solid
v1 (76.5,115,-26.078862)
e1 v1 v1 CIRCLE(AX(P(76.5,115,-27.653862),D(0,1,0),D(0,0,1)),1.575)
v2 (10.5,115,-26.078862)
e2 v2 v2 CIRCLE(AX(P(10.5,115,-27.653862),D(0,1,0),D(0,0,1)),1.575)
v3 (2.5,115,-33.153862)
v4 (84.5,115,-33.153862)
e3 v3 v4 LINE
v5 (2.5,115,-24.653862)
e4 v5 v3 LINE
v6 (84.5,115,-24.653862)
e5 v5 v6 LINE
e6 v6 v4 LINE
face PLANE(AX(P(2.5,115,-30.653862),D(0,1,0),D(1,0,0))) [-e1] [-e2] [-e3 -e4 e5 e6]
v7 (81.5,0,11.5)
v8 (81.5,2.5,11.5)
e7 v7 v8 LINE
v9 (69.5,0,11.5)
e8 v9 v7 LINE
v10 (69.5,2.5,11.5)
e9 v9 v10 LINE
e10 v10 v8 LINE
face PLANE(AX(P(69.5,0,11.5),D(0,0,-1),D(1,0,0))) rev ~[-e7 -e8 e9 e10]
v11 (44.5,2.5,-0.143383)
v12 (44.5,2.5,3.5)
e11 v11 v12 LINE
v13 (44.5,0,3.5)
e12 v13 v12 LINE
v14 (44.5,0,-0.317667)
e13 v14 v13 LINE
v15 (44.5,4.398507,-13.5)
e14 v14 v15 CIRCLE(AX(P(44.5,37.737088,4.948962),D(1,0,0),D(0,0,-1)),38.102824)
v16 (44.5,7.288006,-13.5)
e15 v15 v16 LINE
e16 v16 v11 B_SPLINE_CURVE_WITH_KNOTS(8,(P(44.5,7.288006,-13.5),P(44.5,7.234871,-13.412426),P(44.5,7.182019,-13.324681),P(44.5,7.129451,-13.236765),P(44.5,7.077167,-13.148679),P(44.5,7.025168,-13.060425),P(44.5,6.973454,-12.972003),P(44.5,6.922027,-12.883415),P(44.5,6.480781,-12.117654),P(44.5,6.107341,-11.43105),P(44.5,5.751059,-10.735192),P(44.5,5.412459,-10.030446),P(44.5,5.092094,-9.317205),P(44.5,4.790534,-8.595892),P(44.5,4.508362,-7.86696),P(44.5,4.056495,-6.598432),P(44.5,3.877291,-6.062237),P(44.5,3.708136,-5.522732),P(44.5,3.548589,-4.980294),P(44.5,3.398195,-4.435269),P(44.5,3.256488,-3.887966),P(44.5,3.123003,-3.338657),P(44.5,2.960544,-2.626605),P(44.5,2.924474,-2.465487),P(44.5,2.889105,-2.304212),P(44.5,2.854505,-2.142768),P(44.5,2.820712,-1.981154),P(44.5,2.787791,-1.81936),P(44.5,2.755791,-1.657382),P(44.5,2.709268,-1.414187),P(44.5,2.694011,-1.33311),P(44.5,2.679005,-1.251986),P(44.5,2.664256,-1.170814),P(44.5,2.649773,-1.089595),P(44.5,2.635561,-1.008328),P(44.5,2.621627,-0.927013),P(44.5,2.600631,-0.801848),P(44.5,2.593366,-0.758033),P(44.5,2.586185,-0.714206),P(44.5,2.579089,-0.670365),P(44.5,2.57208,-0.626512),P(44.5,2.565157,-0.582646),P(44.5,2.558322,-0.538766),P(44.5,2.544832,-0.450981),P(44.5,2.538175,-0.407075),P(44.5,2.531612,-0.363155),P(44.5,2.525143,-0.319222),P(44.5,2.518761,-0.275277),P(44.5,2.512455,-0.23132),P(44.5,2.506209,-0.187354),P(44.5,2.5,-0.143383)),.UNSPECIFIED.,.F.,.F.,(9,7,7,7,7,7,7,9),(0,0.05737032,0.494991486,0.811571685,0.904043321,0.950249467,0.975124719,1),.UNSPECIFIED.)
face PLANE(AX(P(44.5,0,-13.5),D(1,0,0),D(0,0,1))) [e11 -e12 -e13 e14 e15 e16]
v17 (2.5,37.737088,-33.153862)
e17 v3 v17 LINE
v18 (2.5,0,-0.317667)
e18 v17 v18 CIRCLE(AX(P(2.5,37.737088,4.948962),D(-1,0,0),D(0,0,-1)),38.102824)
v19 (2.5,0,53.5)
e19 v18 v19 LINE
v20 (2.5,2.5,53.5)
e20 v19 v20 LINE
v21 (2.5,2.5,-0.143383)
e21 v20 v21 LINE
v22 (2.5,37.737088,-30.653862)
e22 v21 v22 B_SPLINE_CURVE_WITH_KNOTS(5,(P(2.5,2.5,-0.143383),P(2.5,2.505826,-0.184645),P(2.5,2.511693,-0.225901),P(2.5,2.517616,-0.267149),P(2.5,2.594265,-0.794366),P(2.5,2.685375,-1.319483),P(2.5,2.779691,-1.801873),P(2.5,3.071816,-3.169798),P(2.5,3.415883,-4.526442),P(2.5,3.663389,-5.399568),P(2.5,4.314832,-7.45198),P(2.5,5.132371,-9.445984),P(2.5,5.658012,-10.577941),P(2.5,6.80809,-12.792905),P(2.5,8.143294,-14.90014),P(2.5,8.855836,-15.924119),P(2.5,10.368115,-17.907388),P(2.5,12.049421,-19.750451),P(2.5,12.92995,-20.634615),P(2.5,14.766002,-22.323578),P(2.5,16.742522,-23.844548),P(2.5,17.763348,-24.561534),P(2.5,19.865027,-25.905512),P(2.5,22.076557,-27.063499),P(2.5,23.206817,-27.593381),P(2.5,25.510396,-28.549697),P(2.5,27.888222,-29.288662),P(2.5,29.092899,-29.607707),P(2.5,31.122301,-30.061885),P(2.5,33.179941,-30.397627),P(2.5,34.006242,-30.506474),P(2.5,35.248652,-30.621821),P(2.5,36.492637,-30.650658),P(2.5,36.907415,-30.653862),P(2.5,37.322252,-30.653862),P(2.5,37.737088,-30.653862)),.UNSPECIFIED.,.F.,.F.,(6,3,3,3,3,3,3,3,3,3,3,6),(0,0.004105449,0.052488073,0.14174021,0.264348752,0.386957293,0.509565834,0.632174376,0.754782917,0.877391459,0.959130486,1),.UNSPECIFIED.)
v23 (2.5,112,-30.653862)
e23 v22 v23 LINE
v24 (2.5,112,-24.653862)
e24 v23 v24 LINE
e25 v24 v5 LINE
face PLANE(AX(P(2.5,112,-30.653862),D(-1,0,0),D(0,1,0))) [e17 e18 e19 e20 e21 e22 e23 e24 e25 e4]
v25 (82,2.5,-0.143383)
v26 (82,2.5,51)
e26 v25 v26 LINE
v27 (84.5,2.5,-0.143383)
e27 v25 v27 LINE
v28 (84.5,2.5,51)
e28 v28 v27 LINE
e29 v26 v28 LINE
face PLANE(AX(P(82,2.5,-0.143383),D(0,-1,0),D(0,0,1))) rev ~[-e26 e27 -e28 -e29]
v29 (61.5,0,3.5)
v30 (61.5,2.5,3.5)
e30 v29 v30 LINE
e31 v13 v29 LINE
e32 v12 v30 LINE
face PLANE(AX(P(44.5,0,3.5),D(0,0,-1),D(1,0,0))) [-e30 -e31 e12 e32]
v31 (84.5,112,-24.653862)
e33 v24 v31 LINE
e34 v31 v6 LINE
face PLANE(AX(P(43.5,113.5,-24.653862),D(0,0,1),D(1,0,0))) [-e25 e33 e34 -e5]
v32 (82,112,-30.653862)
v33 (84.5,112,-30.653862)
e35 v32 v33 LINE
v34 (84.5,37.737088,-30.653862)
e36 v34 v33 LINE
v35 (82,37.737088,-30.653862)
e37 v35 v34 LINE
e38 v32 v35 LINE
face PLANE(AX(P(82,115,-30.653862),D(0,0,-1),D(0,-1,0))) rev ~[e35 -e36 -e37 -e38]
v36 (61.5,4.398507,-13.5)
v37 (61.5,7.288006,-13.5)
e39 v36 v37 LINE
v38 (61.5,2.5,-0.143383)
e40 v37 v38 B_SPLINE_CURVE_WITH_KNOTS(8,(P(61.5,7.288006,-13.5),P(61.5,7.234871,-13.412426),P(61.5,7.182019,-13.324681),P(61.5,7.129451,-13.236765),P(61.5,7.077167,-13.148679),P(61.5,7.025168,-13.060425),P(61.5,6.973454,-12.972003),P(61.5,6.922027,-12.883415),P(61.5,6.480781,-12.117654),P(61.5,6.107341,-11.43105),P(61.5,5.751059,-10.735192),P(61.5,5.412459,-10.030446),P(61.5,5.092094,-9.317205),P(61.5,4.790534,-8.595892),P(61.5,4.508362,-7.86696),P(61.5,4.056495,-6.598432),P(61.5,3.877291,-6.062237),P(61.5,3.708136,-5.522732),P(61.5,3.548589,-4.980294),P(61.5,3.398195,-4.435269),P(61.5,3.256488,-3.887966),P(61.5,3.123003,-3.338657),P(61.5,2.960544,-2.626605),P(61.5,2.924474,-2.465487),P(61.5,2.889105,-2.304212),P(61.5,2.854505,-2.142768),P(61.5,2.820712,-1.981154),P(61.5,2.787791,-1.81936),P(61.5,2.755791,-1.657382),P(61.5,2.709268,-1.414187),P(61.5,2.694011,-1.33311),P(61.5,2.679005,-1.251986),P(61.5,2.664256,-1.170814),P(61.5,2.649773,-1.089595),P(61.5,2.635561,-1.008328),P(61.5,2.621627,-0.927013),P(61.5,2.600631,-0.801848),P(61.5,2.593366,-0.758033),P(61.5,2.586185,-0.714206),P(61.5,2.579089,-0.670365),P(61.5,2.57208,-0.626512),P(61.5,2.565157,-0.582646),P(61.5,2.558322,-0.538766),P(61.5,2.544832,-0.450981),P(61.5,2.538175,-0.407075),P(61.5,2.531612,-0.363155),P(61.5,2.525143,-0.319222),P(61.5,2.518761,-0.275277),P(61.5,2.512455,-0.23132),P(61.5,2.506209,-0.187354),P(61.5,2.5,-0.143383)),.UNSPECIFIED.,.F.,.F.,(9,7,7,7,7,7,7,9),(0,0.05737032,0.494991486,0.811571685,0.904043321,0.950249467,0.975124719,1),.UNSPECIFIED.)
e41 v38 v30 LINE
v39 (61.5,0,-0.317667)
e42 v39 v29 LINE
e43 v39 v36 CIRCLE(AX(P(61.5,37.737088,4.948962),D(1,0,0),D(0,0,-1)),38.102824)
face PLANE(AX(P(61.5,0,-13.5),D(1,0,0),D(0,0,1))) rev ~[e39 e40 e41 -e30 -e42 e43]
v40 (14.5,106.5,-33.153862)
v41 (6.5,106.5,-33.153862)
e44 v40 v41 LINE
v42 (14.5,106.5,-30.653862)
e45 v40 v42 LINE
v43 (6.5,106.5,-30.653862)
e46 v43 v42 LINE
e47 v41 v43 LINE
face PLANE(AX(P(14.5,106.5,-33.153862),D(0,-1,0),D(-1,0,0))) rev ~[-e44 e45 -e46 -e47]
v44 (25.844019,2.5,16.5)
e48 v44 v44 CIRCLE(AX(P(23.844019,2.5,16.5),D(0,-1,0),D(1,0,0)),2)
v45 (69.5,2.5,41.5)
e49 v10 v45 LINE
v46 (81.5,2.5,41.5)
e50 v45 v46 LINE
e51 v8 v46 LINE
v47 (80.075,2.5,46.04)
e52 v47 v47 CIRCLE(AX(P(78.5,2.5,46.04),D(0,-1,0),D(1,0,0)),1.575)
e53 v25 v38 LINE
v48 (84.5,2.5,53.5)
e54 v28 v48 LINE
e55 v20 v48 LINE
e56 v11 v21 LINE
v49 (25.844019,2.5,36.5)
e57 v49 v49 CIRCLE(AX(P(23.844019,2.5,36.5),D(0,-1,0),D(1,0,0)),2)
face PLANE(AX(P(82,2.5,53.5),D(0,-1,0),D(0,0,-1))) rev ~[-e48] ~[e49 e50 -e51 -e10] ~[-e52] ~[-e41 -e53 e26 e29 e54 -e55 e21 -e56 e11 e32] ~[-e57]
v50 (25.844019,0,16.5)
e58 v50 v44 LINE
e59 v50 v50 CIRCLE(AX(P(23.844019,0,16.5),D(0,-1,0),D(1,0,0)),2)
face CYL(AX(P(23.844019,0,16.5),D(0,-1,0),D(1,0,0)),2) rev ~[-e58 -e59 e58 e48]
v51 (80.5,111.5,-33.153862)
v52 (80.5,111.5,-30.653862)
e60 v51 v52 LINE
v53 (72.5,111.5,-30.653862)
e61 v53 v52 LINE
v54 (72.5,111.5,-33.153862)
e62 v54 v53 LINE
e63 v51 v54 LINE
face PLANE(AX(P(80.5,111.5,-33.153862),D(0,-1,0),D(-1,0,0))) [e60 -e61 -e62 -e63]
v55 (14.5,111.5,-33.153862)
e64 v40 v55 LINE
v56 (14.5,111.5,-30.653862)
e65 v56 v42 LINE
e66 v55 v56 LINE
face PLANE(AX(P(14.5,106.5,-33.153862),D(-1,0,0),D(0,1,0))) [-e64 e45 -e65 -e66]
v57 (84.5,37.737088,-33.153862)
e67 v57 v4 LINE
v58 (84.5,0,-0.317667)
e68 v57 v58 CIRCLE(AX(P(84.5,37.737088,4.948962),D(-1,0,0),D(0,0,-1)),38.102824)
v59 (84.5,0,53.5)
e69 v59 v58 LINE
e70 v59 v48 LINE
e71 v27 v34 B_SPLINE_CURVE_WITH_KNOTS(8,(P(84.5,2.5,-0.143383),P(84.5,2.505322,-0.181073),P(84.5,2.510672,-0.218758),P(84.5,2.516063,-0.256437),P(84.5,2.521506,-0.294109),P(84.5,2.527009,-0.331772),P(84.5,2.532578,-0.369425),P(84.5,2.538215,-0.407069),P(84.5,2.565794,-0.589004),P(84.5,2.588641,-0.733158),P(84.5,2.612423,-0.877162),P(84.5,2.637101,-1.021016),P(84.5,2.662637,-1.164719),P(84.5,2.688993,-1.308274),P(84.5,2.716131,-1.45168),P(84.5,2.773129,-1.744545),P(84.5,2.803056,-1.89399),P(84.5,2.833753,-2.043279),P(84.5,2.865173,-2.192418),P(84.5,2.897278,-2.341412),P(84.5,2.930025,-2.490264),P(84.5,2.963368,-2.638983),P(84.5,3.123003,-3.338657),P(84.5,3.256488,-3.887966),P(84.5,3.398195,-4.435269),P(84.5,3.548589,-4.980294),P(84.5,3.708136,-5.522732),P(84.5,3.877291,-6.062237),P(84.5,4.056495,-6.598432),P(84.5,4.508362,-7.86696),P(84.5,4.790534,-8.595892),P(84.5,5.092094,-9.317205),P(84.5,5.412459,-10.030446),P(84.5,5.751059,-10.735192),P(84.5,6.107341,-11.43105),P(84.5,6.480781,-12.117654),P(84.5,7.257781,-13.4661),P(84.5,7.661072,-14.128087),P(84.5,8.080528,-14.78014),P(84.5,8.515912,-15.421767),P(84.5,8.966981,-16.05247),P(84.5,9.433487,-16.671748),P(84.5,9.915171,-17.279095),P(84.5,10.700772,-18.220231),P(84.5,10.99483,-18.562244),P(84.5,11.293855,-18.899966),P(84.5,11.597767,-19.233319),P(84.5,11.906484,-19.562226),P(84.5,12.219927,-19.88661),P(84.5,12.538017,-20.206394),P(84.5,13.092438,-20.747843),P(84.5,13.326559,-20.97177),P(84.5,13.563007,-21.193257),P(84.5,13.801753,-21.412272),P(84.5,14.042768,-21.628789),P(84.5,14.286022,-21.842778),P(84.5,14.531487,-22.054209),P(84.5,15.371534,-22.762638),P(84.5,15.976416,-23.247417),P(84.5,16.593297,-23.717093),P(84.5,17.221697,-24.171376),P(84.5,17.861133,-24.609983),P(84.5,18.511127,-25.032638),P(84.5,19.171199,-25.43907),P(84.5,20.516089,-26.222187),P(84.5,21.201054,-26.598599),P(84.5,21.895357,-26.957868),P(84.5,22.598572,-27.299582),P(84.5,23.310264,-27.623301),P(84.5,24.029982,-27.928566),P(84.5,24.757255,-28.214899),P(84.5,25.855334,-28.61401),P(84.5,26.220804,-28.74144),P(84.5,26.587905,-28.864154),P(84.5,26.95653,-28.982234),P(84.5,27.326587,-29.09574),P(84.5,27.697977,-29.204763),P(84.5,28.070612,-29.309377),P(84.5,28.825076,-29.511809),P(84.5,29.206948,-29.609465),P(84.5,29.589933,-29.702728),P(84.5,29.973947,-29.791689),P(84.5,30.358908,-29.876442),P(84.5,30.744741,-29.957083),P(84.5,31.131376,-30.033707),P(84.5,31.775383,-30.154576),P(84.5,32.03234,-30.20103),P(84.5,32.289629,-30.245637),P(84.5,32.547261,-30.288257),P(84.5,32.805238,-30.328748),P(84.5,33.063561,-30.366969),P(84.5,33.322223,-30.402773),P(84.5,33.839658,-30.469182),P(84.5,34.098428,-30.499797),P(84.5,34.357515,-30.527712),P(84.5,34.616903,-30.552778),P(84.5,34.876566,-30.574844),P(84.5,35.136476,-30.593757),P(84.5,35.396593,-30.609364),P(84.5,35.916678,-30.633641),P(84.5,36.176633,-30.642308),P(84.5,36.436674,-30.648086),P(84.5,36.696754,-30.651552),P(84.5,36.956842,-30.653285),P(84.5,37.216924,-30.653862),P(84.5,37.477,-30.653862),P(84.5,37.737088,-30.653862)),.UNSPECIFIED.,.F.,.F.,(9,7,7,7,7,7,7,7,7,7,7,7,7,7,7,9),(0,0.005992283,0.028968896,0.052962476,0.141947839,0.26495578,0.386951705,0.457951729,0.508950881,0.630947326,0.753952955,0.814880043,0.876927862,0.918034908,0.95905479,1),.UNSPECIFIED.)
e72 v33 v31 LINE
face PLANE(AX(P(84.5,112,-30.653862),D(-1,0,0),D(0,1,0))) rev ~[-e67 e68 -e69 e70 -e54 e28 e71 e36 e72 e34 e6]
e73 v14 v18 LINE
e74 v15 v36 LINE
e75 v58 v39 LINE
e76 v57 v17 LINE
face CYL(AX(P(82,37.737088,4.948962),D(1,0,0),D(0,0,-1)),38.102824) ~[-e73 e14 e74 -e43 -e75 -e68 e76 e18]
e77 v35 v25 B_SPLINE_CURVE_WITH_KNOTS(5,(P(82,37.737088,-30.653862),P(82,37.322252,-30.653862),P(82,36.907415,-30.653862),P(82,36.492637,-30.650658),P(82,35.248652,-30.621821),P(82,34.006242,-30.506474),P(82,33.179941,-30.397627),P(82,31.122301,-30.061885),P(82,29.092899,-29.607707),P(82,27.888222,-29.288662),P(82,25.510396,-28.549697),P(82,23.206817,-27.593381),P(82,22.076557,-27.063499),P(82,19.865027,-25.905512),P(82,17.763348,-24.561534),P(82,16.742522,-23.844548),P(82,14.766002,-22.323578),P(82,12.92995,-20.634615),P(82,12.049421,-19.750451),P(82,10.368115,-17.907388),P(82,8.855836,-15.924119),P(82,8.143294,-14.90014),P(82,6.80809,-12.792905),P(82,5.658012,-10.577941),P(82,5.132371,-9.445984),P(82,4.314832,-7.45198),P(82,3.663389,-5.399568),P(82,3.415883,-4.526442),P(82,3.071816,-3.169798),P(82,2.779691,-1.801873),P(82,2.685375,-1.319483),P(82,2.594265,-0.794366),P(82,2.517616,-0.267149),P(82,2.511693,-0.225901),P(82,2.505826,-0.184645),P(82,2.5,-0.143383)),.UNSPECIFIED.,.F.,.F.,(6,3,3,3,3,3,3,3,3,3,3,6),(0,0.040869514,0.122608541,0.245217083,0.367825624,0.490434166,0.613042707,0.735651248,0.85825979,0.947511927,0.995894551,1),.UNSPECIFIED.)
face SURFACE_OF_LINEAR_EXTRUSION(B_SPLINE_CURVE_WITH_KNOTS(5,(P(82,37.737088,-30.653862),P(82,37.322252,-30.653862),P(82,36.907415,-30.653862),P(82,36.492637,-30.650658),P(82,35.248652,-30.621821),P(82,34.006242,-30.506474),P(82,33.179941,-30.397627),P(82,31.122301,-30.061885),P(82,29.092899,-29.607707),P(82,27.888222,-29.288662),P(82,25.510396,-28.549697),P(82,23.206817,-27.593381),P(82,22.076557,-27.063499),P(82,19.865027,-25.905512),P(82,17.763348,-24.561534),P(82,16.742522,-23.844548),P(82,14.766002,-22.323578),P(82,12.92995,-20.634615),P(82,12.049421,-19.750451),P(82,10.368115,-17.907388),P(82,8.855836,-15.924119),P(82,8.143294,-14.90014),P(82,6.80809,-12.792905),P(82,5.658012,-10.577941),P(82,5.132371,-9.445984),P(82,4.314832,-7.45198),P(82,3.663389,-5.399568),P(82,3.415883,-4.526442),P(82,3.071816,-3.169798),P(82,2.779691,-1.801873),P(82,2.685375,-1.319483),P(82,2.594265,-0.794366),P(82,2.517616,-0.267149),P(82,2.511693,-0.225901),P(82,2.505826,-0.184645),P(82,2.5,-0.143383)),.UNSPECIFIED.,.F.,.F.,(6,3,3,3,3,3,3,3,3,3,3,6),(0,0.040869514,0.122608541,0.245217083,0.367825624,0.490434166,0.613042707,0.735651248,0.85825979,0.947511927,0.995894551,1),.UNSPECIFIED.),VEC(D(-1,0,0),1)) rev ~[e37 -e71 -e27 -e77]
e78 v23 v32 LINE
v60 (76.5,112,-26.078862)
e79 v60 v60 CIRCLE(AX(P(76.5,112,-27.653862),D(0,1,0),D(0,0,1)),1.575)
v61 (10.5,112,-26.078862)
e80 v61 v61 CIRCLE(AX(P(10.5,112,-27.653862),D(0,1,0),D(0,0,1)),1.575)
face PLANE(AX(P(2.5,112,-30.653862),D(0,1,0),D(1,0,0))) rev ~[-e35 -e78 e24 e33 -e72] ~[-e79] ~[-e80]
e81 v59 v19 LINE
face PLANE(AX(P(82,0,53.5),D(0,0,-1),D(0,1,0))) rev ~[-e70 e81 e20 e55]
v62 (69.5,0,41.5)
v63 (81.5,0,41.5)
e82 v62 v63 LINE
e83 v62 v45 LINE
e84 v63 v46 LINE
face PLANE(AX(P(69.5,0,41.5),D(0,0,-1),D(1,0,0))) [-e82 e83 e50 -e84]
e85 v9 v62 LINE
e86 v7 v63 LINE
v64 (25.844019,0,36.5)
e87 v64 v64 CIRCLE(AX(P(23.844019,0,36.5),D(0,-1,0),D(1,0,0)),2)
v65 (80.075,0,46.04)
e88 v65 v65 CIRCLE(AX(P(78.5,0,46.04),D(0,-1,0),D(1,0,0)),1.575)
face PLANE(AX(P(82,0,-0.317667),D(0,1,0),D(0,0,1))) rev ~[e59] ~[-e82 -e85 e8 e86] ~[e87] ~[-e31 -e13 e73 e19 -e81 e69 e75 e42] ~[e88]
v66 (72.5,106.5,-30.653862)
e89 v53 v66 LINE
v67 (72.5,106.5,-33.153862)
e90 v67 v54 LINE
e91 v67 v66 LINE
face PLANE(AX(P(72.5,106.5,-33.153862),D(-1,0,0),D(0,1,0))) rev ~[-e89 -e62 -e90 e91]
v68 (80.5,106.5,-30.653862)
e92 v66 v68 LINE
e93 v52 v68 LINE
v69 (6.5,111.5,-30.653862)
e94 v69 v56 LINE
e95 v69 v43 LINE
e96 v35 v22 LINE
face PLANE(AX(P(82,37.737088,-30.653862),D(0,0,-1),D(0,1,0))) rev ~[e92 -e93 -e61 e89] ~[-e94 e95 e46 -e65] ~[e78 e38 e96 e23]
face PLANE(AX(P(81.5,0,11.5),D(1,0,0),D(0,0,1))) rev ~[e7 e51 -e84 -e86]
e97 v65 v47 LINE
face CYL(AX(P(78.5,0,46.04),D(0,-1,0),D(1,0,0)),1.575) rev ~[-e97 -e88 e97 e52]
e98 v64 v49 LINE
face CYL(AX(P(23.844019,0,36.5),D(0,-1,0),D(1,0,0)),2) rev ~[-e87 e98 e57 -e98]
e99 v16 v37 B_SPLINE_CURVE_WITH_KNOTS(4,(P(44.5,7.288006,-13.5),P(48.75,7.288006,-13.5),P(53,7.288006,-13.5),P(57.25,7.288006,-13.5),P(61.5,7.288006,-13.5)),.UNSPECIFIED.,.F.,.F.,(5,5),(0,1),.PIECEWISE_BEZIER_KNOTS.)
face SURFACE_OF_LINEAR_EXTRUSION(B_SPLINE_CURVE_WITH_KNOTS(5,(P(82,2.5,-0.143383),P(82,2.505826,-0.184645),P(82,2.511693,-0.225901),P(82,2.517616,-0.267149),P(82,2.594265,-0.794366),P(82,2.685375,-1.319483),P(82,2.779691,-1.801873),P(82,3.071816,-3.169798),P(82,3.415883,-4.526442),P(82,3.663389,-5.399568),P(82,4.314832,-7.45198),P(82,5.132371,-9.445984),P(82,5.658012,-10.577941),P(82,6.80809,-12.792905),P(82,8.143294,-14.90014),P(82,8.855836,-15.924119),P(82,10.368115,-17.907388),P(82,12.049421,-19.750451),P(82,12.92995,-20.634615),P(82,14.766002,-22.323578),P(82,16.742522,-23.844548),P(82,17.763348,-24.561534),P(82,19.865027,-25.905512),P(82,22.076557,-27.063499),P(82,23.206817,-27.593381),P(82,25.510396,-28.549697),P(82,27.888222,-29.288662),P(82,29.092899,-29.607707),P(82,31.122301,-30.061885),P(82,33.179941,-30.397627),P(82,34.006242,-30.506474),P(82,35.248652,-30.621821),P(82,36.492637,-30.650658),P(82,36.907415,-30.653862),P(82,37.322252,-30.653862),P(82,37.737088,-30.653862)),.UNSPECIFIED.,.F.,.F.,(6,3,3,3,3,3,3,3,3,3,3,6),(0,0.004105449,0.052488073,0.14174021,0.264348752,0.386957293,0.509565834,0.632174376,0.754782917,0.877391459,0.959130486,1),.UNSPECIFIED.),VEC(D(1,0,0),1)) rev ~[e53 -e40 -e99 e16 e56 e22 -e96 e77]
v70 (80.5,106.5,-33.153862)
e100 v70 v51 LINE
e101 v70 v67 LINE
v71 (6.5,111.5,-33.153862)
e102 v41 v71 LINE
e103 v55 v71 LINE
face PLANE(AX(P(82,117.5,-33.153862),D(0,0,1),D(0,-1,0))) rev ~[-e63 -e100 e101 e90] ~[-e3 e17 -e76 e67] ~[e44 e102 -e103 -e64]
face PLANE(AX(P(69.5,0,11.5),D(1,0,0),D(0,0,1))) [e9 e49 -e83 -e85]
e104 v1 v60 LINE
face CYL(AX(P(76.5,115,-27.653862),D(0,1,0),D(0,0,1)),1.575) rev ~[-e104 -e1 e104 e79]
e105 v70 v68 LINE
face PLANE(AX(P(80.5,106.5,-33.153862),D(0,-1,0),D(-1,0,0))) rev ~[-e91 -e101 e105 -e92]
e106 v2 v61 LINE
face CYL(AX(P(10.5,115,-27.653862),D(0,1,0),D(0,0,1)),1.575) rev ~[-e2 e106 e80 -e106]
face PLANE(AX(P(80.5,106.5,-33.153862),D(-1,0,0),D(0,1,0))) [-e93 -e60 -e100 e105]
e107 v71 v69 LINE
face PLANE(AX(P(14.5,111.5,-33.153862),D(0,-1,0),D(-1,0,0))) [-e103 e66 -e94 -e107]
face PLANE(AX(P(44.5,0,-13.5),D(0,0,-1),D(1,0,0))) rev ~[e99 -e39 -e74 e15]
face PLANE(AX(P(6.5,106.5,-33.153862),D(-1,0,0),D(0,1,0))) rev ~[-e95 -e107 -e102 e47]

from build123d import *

# Parameters (mm, degrees)
BOSS_EXTRUDE1_DEPTH      = 50
SKETCH3_W                = 92
SKETCH3_H                = 120
BOSS_EXTRUDE2_DEPTH      = 5
SKETCH4_W                = 8.115199035
SKETCH4_H                = 120
BOSS_EXTRUDE3_DEPTH      = 12
BOSS_EXTRUDE4_DEPTH      = 60
SKETCH5_W                = 10
SKETCH5_H                = 2
BOSS_EXTRUDE5_DEPTH      = 20
BOSS_EXTRUDE6_START      = 50
SKETCH5_2_W              = 10
SKETCH5_2_H              = 2
BOSS_EXTRUDE6_DEPTH      = 20
SKETCH6_W                = 92
SKETCH6_H                = 120
BOSS_EXTRUDE7_DEPTH      = 5
SKETCH7_W                = 7
SKETCH7_H                = 10
SKETCH7_R                = 1.6
BOSS_EXTRUDE8_DEPTH      = 3
CUT_EXTRUDE2_DEPTH       = 164.816971038
SKETCH12_W               = 112.5
SKETCH12_H               = 2.5
CUT_EXTRUDE4_DEPTH       = 165.373051319
CUT_EXTRUDE4_DEPTH_BACK  = 165.373051319
SKETCH14_W               = 106
SKETCH14_H               = 1.5
CUT_EXTRUDE5_DEPTH       = 162.085381087
SKETCH15_R               = 1.6
BOSS_EXTRUDE10_DEPTH     = 2
SKETCH16_W               = 87
SKETCH16_H               = 3.364665628
CUT_EXTRUDE6_DEPTH       = 162.085381087
SKETCH17_W               = 10
SKETCH17_H               = 2
CUT_EXTRUDE7_DEPTH       = 70
SKETCH19_W               = 7
SKETCH19_H               = 10
SKETCH19_R               = 1.6
BOSS_EXTRUDE11_DEPTH     = 3.5
SKETCH21_W               = 7
SKETCH21_H               = 10
SKETCH21_R               = 1.6
BOSS_EXTRUDE13_DEPTH     = 3.5
SKETCH22_W               = 9.5
SKETCH22_H               = 117.5
CUT_EXTRUDE8_DEPTH       = 186.007067988
CUT_EXTRUDE9_DEPTH       = 156.903445849
CUT_EXTRUDE10_START      = -8.115199
SKETCH26_W               = 12
SKETCH26_H               = 12
CUT_EXTRUDE10_DEPTH      = 8.115199
SKETCH27_R               = 1.575
CUT_EXTRUDE11_DEPTH      = 6
SKETCH28_W               = 108.793725607
SKETCH28_H               = 128.432707594
CUT_EXTRUDE12_DEPTH      = 155.300842512
CUT_EXTRUDE13_DEPTH      = 127.920694069
CUT_EXTRUDE14_DEPTH      = 130.130747828
BOSS_EXTRUDE14_DEPTH     = 79.5
SKETCH32_W               = 2.5
SKETCH32_H               = 2.5
CUT_EXTRUDE15_DEPTH      = 153.946069092
SKETCH35_R               = 1.575
CUT_EXTRUDE16_DEPTH      = 153.405708721
SKETCH36_W               = 82
SKETCH36_H               = 3
BOSS_EXTRUDE15_DEPTH     = 6
CUT_EXTRUDE17_REACH      = 154.406
SKETCH37_R               = 1.575
SKETCH38_W               = 17
SKETCH38_H               = 17
CUT_EXTRUDE18_DEPTH      = 153.405708721
CUT_EXTRUDE18_DEPTH_BACK = 153.405708721
SKETCH39_W               = 12
SKETCH39_H               = 30
CUT_EXTRUDE19_DEPTH      = 153.405708721
CUT_EXTRUDE20_REACH      = 168.956
SKETCH40_W               = 8
SKETCH40_H               = 5
CUT_EXTRUDE22_REACH      = 154.406
SKETCH42_R               = 2


with BuildPart() as part:
    # Sketch2 → Boss-Extrude1 (new body)
    with BuildSketch(Plane.XY):
        Polygon((0, 0), (0, 115), (82, 115), (82, 0), (87, 0), (87, 120), (-5, 120), (-5, 0), align=None)
    extrude(amount=BOSS_EXTRUDE1_DEPTH)

    # Sketch3 → Boss-Extrude2 (add)
    with BuildSketch(Plane.XY.offset(50)):
        with Locations((41, 60)):
            Rectangle(SKETCH3_W, SKETCH3_H)
    extrude(amount=BOSS_EXTRUDE2_DEPTH)

    # Sketch4 → Boss-Extrude3 (add)
    with BuildSketch(Plane.ZY.offset(-82)):
        with Locations((45.942400483, 60)):
            Rectangle(SKETCH4_W, SKETCH4_H)
    extrude(amount=BOSS_EXTRUDE3_DEPTH)

    # Sketch2_2 → Boss-Extrude4 (add)
    with BuildSketch(Plane.XY):
        Polygon((0, 0), (0, 115), (82, 115), (82, 0), (87, 0), (87, 120), (-5, 120), (-5, 0), align=None)
    extrude(amount=-BOSS_EXTRUDE4_DEPTH)

    # Sketch5 → Boss-Extrude5 (add)
    with BuildSketch(Plane.XZ.offset(-115)):
        with Locations((5, 7.889828052)):
            Rectangle(SKETCH5_W, SKETCH5_H)
        with Locations((5, 2.689828052)):
            Rectangle(SKETCH5_W, SKETCH5_H)
        with Locations((77, 2.689828052)):
            Rectangle(SKETCH5_W, SKETCH5_H)
        with Locations((77, 7.889828052)):
            Rectangle(SKETCH5_W, SKETCH5_H)
    extrude(amount=BOSS_EXTRUDE5_DEPTH)

    # Sketch5_2 → Boss-Extrude6 (add)
    with BuildSketch(Plane.XZ.offset(-115).offset(BOSS_EXTRUDE6_START)):
        with Locations((5, 7.889828052)):
            Rectangle(SKETCH5_2_W, SKETCH5_2_H)
        with Locations((5, 2.689828052)):
            Rectangle(SKETCH5_2_W, SKETCH5_2_H)
        with Locations((77, 2.689828052)):
            Rectangle(SKETCH5_2_W, SKETCH5_2_H)
        with Locations((77, 7.889828052)):
            Rectangle(SKETCH5_2_W, SKETCH5_2_H)
    extrude(amount=BOSS_EXTRUDE6_DEPTH)

    # Sketch6 → Boss-Extrude7 (add)
    with BuildSketch(Plane(origin=(0, 0, -60), x_dir=(-1, 0, 0), z_dir=(0, 0, -1))):
        with Locations((-41, 60)):
            Rectangle(SKETCH6_W, SKETCH6_H)
    extrude(amount=-BOSS_EXTRUDE7_DEPTH)

    # Sketch7 → Boss-Extrude8 (add)
    with BuildSketch(Plane.XY.offset(55)):
        with Locations((90.5, 115)):
            Rectangle(SKETCH7_W, SKETCH7_H)
        with Locations((90.472155735, 113.006992181)):
            Circle(SKETCH7_R, mode=Mode.SUBTRACT)
        with Locations((-8.5, 115)):
            Rectangle(SKETCH7_W, SKETCH7_H)
        with Locations(Location((-8.472155735, 113.006992181, 0), (0, 0, 180))):
            Circle(SKETCH7_R, mode=Mode.SUBTRACT)
        with Locations((-8.5, 5)):
            Rectangle(SKETCH7_W, SKETCH7_H)
        with Locations((-8.472155735, 6.993007819)):
            Circle(SKETCH7_R, mode=Mode.SUBTRACT)
        with Locations((90.5, 5)):
            Rectangle(SKETCH7_W, SKETCH7_H)
        with Locations(Location((90.472155735, 6.993007819, 0), (0, 0, 180))):
            Circle(SKETCH7_R, mode=Mode.SUBTRACT)
    extrude(amount=-BOSS_EXTRUDE8_DEPTH)

    # Sketch11 → Cut-Extrude2 (cut, through all)
    with BuildSketch(Plane.XZ):
        Polygon((-5, 52), (-2.5, 52), (-2.5, -57.5), (84.5, -57.5), (84.5, 52), (87, 52), (87, -60), (-5, -60), align=None)
    extrude(amount=-CUT_EXTRUDE2_DEPTH, mode=Mode.SUBTRACT)

    # Sketch12 → Cut-Extrude4 (cut, two sides)
    with BuildSketch(Plane.ZY.offset(2.5)) as cut_extrude4_sk:
        with Locations((-1.25, 118.75)):
            Rectangle(SKETCH12_W, SKETCH12_H)
    extrude(amount=CUT_EXTRUDE4_DEPTH, mode=Mode.SUBTRACT)
    extrude(cut_extrude4_sk.sketch, amount=-CUT_EXTRUDE4_DEPTH_BACK, mode=Mode.SUBTRACT)

    # Sketch14 → Cut-Extrude5 (cut, through all)
    with BuildSketch(Plane.XZ):
        with Locations((41, 54.25)):
            Rectangle(SKETCH14_W, SKETCH14_H)
    extrude(amount=-CUT_EXTRUDE5_DEPTH, mode=Mode.SUBTRACT)

    # Sketch15 → Boss-Extrude10 (add)
    with BuildSketch(Plane(origin=(0, 0, 52), x_dir=(-1, 0, 0), z_dir=(0, 0, -1))):
        Polygon((-84.5, 117.5), (-94, 117.5), (-94, 110), (-87, 110), (-87, 10), (-94, 10), (-94, 0), (-84.5, 0), align=None)
        with Locations((-90.472155735, 113.006992181)):
            Circle(SKETCH15_R, mode=Mode.SUBTRACT)
        with Locations((-90.472155735, 6.993007819)):
            Circle(SKETCH15_R, mode=Mode.SUBTRACT)
        Polygon((2.5, 0), (2.5, 117.5), (12, 117.5), (12, 110), (5, 110), (5, 10), (12, 10), (12, 0), align=None)
        with Locations(Location((8.472155735, 113.006992181, 0), (0, 0, 180))):
            Circle(SKETCH15_R, mode=Mode.SUBTRACT)
        with Locations(Location((8.472155735, 6.993007819, 0), (0, 0, 180))):
            Circle(SKETCH15_R, mode=Mode.SUBTRACT)
    extrude(amount=BOSS_EXTRUDE10_DEPTH)

    # Sketch16 → Cut-Extrude6 (cut, through all)
    with BuildSketch(Plane.XZ):
        with Locations((41, -55.817667186)):
            Rectangle(SKETCH16_W, SKETCH16_H)
    extrude(amount=-CUT_EXTRUDE6_DEPTH, mode=Mode.SUBTRACT)

    # Sketch17 → Cut-Extrude7 (cut)
    with BuildSketch(Plane.XZ.offset(-45)):
        with Locations((5, 2.689828052)):
            Rectangle(SKETCH17_W, SKETCH17_H)
        with Locations((77, 2.689828052)):
            Rectangle(SKETCH17_W, SKETCH17_H)
    extrude(amount=-CUT_EXTRUDE7_DEPTH, mode=Mode.SUBTRACT)

    # Sketch19 → Boss-Extrude11 (add)
    with BuildSketch(Plane.XZ):
        with Locations((88, -49.135334372)):
            Rectangle(SKETCH19_W, SKETCH19_H)
        with Locations((87.901562489, -49.234834013)):
            Circle(SKETCH19_R, mode=Mode.SUBTRACT)
        with Locations((-6, -49.135334372)):
            Rectangle(SKETCH19_W, SKETCH19_H)
        with Locations(Location((-5.901562489, -49.234834013, 0), (0, 0, 180))):
            Circle(SKETCH19_R, mode=Mode.SUBTRACT)
        with Locations((-6, 34.080676656)):
            Rectangle(SKETCH19_W, SKETCH19_H)
        with Locations((-5.901562489, 34.180176298)):
            Circle(SKETCH19_R, mode=Mode.SUBTRACT)
        with Locations((88, 34.080676656)):
            Rectangle(SKETCH19_W, SKETCH19_H)
        with Locations(Location((87.901562489, 34.180176298, 0), (0, 0, 180))):
            Circle(SKETCH19_R, mode=Mode.SUBTRACT)
    extrude(amount=-BOSS_EXTRUDE11_DEPTH)

    # Sketch21 → Boss-Extrude13 (add)
    with BuildSketch(Plane(origin=(0, 0, -54.135334372), x_dir=(-1, 0, 0), z_dir=(0, 0, -1))):
        with Locations((-88, 112.5)):
            Rectangle(SKETCH21_W, SKETCH21_H)
        with Locations((-87.460864154, 112.996655596)):
            Circle(SKETCH21_R, mode=Mode.SUBTRACT)
        with Locations((6, 112.5)):
            Rectangle(SKETCH21_W, SKETCH21_H)
        with Locations(Location((5.460864154, 112.996655596, 0), (0, 0, 180))):
            Circle(SKETCH21_R, mode=Mode.SUBTRACT)
        with Locations((6, 17.859776919)):
            Rectangle(SKETCH21_W, SKETCH21_H)
        with Locations((5.460864154, 17.363121322)):
            Circle(SKETCH21_R, mode=Mode.SUBTRACT)
        with Locations((-88, 17.859776919)):
            Rectangle(SKETCH21_W, SKETCH21_H)
        with Locations(Location((-87.460864154, 17.363121322, 0), (0, 0, 180))):
            Circle(SKETCH21_R, mode=Mode.SUBTRACT)
    extrude(amount=-BOSS_EXTRUDE13_DEPTH)

    # Sketch22 → Cut-Extrude8 (cut, through all)
    with BuildSketch(Plane(origin=(0, 0, -54.135334372), x_dir=(-1, 0, 0), z_dir=(0, 0, -1))):
        with Locations((7.25, 58.75)):
            Rectangle(SKETCH22_W, SKETCH22_H)
        with Locations((-89.25, 58.75)):
            Rectangle(SKETCH22_W, SKETCH22_H)
    extrude(amount=-CUT_EXTRUDE8_DEPTH, mode=Mode.SUBTRACT)

    # Sketch24 → Cut-Extrude9 (cut, through all)
    with BuildSketch(Plane.ZY.offset(2.5)):
        with BuildLine():
            Line((-33.153862192, 117.5), (-33.153862192, 37.737088179))
            ThreePointArc((-33.153862192, 37.737088179), (-23.795591024, 12.725573197), (-0.317667186, 0))
            Line((-0.317667186, 0), (-54.135334372, 0))
            Line((-54.135334372, 0), (-54.135334372, 117.5))
            Line((-54.135334372, 117.5), (-33.153862192, 117.5))
        make_face()
    extrude(amount=-CUT_EXTRUDE9_DEPTH, mode=Mode.SUBTRACT)

    # Sketch26 → Cut-Extrude10 (cut)
    with BuildSketch(Plane(origin=(0, 0, 41.884800965), x_dir=(-1, 0, 0), z_dir=(0, 0, -1)).offset(CUT_EXTRUDE10_START)):
        with Locations((-76, 12)):
            Rectangle(SKETCH26_W, SKETCH26_H)
    extrude(amount=CUT_EXTRUDE10_DEPTH, mode=Mode.SUBTRACT)

    # Sketch27 → Cut-Extrude11 (cut)
    with BuildSketch(Plane.XZ):
        with Locations((76, 46.036602525)):
            Circle(SKETCH27_R)
    extrude(amount=-CUT_EXTRUDE11_DEPTH, mode=Mode.SUBTRACT)

    # Sketch28 → Cut-Extrude12 (cut, through all)
    with BuildSketch(Plane.ZY.offset(-82)):
        with Locations((9.705474095, 56.879620763)):
            Rectangle(SKETCH28_W, SKETCH28_H)
    extrude(amount=CUT_EXTRUDE12_DEPTH, mode=Mode.SUBTRACT)

    # 3DSketch1 → Cut-Extrude13 (cut, through all)
    with BuildSketch(Plane(origin=(82, 2.5, -0.143383403), x_dir=(0, 0.9103450776109693, 0.41385002074360044), z_dir=(-1, 0, 0))):
        with BuildLine():
            Line((0, 0), (21.165690282, -46.558127334))
            Line((21.165690282, -46.558127334), (123.579511514, 0))
            Line((123.579511514, 0), (89.787058952, 74.333191514))
            Line((89.787058952, 74.333191514), (19.451147493, 42.357933854))
            add(Edge.make_bspline(
                [(19.451147493, 42.357933854), (19.073503164, 42.186253777), (18.695858835, 42.0145737), (18.319593589, 41.840000931), (17.199072345, 41.298926476), (16.11578633, 40.679749356), (15.408613466, 40.238696045), (13.674397883, 39.081500683), (12.014903876, 37.828173433), (11.050269163, 37.039177313), (9.191446964, 35.382400956), (7.490166914, 33.558487206), (6.680531728, 32.608352946), (5.146509637, 30.638943579), (3.789461316, 28.545680375), (3.156882667, 27.470506499), (1.98702053, 25.26791657), (1.014556989, 22.97052703), (0.57888296, 21.801225298), (-0.188933435, 19.427593794), (-0.744854137, 16.996277974), (-0.9697392, 15.769218079), (-1.313156023, 13.298332506), (-1.443460783, 10.805991744), (-1.45351547, 9.557983588), (-1.372539383, 7.404412729), (-1.116186803, 5.266410588), (-0.980158798, 4.36913409), (-0.731931827, 2.991727413), (-0.431750654, 1.625547457), (-0.317973289, 1.147373929), (-0.183595556, 0.63163023), (-0.035183671, 0.119959589), (-0.023505149, 0.079958731), (-0.011772046, 0.039973715), (0, 0)],
                knots=[0, 0, 0, 0, 0, 0, 0.040869514, 0.040869514, 0.040869514, 0.122608541, 0.122608541, 0.122608541, 0.245217083, 0.245217083, 0.245217083, 0.367825624, 0.367825624, 0.367825624, 0.490434166, 0.490434166, 0.490434166, 0.613042707, 0.613042707, 0.613042707, 0.735651248, 0.735651248, 0.735651248, 0.85825979, 0.85825979, 0.85825979, 0.947511927, 0.947511927, 0.947511927, 0.995894551, 0.995894551, 0.995894551, 1, 1, 1, 1, 1, 1], degree=5))
        make_face()
    extrude(amount=-CUT_EXTRUDE13_DEPTH, mode=Mode.SUBTRACT)

    # Sketch29 → Cut-Extrude14 (cut, through all)
    with BuildSketch(Plane.ZY.offset(-82)):
        Polygon((-30.653862192, 115), (-30.653862192, 117.5), (53.5, 117.5), (53.5, 2.5), (51, 2.5), (51, 115), align=None)
    extrude(amount=-CUT_EXTRUDE14_DEPTH, mode=Mode.SUBTRACT)

    # Sketch31 → Boss-Extrude14 (add)
    with BuildSketch(Plane.ZY.offset(-82)):
        with BuildLine():
            Line((-30.653862192, 37.737088179), (-30.653862192, 117.5))
            Line((-30.653862192, 117.5), (-33.153862192, 117.5))
            Line((-33.153862192, 117.5), (-33.153862192, 37.737088179))
            ThreePointArc((-33.153862192, 37.737088179), (-23.795591024, 12.725573197), (-0.317667186, 0))
            Line((-0.317667186, 0), (53.5, 0))
            Line((53.5, 0), (53.5, 2.5))
            Line((53.5, 2.5), (-0.143383403, 2.5))
            add(Edge.make_bspline(
                [(-0.143383403, 2.5), (-0.184645139, 2.505826499), (-0.225901047, 2.511693126), (-0.267148788, 2.517615997), (-0.794365899, 2.594264873), (-1.319482864, 2.685375306), (-1.801872547, 2.779690766), (-3.169797729, 3.071815916), (-4.526441855, 3.415883496), (-5.399568291, 3.66338897), (-7.451979536, 4.31483189), (-9.445984122, 5.132371053), (-10.577941071, 5.658012489), (-12.792904588, 6.808090062), (-14.900140047, 8.143293922), (-15.924119294, 8.855835695), (-17.907387889, 10.368115472), (-19.750450814, 12.049420794), (-20.634615184, 12.929950049), (-22.323578387, 14.766002155), (-23.844547817, 16.742522281), (-24.561534376, 17.763347871), (-25.905511754, 19.865027151), (-27.063498802, 22.076556717), (-27.593381311, 23.206817207), (-28.549697431, 25.510395869), (-29.288662027, 27.888222438), (-29.607706664, 29.092898961), (-30.061885328, 31.12230067), (-30.397627275, 33.179940614), (-30.506474481, 34.006241873), (-30.621821385, 35.248652427), (-30.650658111, 36.4926371), (-30.653862192, 36.907415259), (-30.653862192, 37.322251719), (-30.653862192, 37.737088179)],
                knots=[0, 0, 0, 0, 0, 0, 0.004105449, 0.004105449, 0.004105449, 0.052488073, 0.052488073, 0.052488073, 0.14174021, 0.14174021, 0.14174021, 0.264348752, 0.264348752, 0.264348752, 0.386957293, 0.386957293, 0.386957293, 0.509565834, 0.509565834, 0.509565834, 0.632174376, 0.632174376, 0.632174376, 0.754782917, 0.754782917, 0.754782917, 0.877391459, 0.877391459, 0.877391459, 0.959130486, 0.959130486, 0.959130486, 1, 1, 1, 1, 1, 1], degree=5))
        make_face()
    extrude(amount=BOSS_EXTRUDE14_DEPTH)

    # Sketch32 → Cut-Extrude15 (cut, through all)
    with BuildSketch(Plane.ZY.offset(-2.5)):
        with Locations((-31.903862192, 116.25)):
            Rectangle(SKETCH32_W, SKETCH32_H)
    extrude(amount=-CUT_EXTRUDE15_DEPTH, mode=Mode.SUBTRACT)

    # Sketch35 → Cut-Extrude16 (cut, through all)
    with BuildSketch(Plane.XZ):
        with Locations((78.5, 46.04)):
            Circle(SKETCH35_R)
    extrude(amount=-CUT_EXTRUDE16_DEPTH, mode=Mode.SUBTRACT)

    # Sketch36 → Boss-Extrude15 (add)
    with BuildSketch(Plane.XY.offset(-30.653862192)):
        with Locations((43.5, 113.5)):
            Rectangle(SKETCH36_W, SKETCH36_H)
    extrude(amount=BOSS_EXTRUDE15_DEPTH)

    # Sketch37 → Cut-Extrude17 (cut, up to next)
    with BuildSketch(Plane(origin=(0, 115, 0), x_dir=(1, 0, 0), z_dir=(0, 1, 0)), mode=Mode.PRIVATE) as cut_extrude17_sk1:
        with Locations(Location((10.5, 27.653862192, 0), (0, 0, 270))):
            Circle(SKETCH37_R)
    cut_extrude17_tool1 = extrude(cut_extrude17_sk1.sketch, amount=-CUT_EXTRUDE17_REACH, mode=Mode.PRIVATE) & part.part
    # Sketch37 → Cut-Extrude17 (cut, up to next)
    with BuildSketch(Plane(origin=(0, 115, 0), x_dir=(1, 0, 0), z_dir=(0, 1, 0)), mode=Mode.PRIVATE) as cut_extrude17_sk2:
        with Locations(Location((76.5, 27.653862192, 0), (0, 0, 270))):
            Circle(SKETCH37_R)
    cut_extrude17_tool2 = extrude(cut_extrude17_sk2.sketch, amount=-CUT_EXTRUDE17_REACH, mode=Mode.PRIVATE) & part.part
    add(cut_extrude17_tool1.solids().sort_by_distance((10.5, 115, -27.653862))[0], mode=Mode.SUBTRACT)
    add(cut_extrude17_tool2.solids().sort_by_distance((76.5, 115, -27.653862))[0], mode=Mode.SUBTRACT)

    # Sketch38 → Cut-Extrude18 (cut, two sides)
    with BuildSketch(Plane.XZ) as cut_extrude18_sk:
        with Locations((53, -5)):
            Rectangle(SKETCH38_W, SKETCH38_H)
    extrude(amount=CUT_EXTRUDE18_DEPTH, mode=Mode.SUBTRACT)
    extrude(cut_extrude18_sk.sketch, amount=-CUT_EXTRUDE18_DEPTH_BACK, mode=Mode.SUBTRACT)

    # Sketch39 → Cut-Extrude19 (cut, through all)
    with BuildSketch(Plane.XZ):
        with Locations((75.5, 26.5)):
            Rectangle(SKETCH39_W, SKETCH39_H)
    extrude(amount=-CUT_EXTRUDE19_DEPTH, mode=Mode.SUBTRACT)

    # Sketch40 → Cut-Extrude20 (cut, up to next)
    with BuildSketch(Plane(origin=(0, 0, -33.153862192), x_dir=(-1, 0, 0), z_dir=(0, 0, -1)), mode=Mode.PRIVATE) as cut_extrude20_sk1:
        with Locations((-76.5, 109)):
            Rectangle(SKETCH40_W, SKETCH40_H)
    cut_extrude20_tool1 = extrude(cut_extrude20_sk1.sketch, amount=-CUT_EXTRUDE20_REACH, mode=Mode.PRIVATE) & part.part
    # Sketch40 → Cut-Extrude20 (cut, up to next)
    with BuildSketch(Plane(origin=(0, 0, -33.153862192), x_dir=(-1, 0, 0), z_dir=(0, 0, -1)), mode=Mode.PRIVATE) as cut_extrude20_sk2:
        with Locations((-10.5, 109)):
            Rectangle(SKETCH40_W, SKETCH40_H)
    cut_extrude20_tool2 = extrude(cut_extrude20_sk2.sketch, amount=-CUT_EXTRUDE20_REACH, mode=Mode.PRIVATE) & part.part
    add(cut_extrude20_tool1.solids().sort_by_distance((76.5, 109, -33.153862))[0], mode=Mode.SUBTRACT)
    add(cut_extrude20_tool2.solids().sort_by_distance((10.5, 109, -33.153862))[0], mode=Mode.SUBTRACT)

    # Sketch42 → Cut-Extrude22 (cut, up to next)
    with BuildSketch(Plane.XZ, mode=Mode.PRIVATE) as cut_extrude22_sk1:
        with Locations((23.844019172, 36.5)):
            Circle(SKETCH42_R)
    cut_extrude22_tool1 = extrude(cut_extrude22_sk1.sketch, amount=-CUT_EXTRUDE22_REACH, mode=Mode.PRIVATE) & part.part
    # Sketch42 → Cut-Extrude22 (cut, up to next)
    with BuildSketch(Plane.XZ, mode=Mode.PRIVATE) as cut_extrude22_sk2:
        with Locations((23.844019172, 16.5)):
            Circle(SKETCH42_R)
    cut_extrude22_tool2 = extrude(cut_extrude22_sk2.sketch, amount=-CUT_EXTRUDE22_REACH, mode=Mode.PRIVATE) & part.part
    add(cut_extrude22_tool1.solids().sort_by_distance((23.844019, 0, 36.5))[0], mode=Mode.SUBTRACT)
    add(cut_extrude22_tool2.solids().sort_by_distance((23.844019, 0, 16.5))[0], mode=Mode.SUBTRACT)


solid = part.part
